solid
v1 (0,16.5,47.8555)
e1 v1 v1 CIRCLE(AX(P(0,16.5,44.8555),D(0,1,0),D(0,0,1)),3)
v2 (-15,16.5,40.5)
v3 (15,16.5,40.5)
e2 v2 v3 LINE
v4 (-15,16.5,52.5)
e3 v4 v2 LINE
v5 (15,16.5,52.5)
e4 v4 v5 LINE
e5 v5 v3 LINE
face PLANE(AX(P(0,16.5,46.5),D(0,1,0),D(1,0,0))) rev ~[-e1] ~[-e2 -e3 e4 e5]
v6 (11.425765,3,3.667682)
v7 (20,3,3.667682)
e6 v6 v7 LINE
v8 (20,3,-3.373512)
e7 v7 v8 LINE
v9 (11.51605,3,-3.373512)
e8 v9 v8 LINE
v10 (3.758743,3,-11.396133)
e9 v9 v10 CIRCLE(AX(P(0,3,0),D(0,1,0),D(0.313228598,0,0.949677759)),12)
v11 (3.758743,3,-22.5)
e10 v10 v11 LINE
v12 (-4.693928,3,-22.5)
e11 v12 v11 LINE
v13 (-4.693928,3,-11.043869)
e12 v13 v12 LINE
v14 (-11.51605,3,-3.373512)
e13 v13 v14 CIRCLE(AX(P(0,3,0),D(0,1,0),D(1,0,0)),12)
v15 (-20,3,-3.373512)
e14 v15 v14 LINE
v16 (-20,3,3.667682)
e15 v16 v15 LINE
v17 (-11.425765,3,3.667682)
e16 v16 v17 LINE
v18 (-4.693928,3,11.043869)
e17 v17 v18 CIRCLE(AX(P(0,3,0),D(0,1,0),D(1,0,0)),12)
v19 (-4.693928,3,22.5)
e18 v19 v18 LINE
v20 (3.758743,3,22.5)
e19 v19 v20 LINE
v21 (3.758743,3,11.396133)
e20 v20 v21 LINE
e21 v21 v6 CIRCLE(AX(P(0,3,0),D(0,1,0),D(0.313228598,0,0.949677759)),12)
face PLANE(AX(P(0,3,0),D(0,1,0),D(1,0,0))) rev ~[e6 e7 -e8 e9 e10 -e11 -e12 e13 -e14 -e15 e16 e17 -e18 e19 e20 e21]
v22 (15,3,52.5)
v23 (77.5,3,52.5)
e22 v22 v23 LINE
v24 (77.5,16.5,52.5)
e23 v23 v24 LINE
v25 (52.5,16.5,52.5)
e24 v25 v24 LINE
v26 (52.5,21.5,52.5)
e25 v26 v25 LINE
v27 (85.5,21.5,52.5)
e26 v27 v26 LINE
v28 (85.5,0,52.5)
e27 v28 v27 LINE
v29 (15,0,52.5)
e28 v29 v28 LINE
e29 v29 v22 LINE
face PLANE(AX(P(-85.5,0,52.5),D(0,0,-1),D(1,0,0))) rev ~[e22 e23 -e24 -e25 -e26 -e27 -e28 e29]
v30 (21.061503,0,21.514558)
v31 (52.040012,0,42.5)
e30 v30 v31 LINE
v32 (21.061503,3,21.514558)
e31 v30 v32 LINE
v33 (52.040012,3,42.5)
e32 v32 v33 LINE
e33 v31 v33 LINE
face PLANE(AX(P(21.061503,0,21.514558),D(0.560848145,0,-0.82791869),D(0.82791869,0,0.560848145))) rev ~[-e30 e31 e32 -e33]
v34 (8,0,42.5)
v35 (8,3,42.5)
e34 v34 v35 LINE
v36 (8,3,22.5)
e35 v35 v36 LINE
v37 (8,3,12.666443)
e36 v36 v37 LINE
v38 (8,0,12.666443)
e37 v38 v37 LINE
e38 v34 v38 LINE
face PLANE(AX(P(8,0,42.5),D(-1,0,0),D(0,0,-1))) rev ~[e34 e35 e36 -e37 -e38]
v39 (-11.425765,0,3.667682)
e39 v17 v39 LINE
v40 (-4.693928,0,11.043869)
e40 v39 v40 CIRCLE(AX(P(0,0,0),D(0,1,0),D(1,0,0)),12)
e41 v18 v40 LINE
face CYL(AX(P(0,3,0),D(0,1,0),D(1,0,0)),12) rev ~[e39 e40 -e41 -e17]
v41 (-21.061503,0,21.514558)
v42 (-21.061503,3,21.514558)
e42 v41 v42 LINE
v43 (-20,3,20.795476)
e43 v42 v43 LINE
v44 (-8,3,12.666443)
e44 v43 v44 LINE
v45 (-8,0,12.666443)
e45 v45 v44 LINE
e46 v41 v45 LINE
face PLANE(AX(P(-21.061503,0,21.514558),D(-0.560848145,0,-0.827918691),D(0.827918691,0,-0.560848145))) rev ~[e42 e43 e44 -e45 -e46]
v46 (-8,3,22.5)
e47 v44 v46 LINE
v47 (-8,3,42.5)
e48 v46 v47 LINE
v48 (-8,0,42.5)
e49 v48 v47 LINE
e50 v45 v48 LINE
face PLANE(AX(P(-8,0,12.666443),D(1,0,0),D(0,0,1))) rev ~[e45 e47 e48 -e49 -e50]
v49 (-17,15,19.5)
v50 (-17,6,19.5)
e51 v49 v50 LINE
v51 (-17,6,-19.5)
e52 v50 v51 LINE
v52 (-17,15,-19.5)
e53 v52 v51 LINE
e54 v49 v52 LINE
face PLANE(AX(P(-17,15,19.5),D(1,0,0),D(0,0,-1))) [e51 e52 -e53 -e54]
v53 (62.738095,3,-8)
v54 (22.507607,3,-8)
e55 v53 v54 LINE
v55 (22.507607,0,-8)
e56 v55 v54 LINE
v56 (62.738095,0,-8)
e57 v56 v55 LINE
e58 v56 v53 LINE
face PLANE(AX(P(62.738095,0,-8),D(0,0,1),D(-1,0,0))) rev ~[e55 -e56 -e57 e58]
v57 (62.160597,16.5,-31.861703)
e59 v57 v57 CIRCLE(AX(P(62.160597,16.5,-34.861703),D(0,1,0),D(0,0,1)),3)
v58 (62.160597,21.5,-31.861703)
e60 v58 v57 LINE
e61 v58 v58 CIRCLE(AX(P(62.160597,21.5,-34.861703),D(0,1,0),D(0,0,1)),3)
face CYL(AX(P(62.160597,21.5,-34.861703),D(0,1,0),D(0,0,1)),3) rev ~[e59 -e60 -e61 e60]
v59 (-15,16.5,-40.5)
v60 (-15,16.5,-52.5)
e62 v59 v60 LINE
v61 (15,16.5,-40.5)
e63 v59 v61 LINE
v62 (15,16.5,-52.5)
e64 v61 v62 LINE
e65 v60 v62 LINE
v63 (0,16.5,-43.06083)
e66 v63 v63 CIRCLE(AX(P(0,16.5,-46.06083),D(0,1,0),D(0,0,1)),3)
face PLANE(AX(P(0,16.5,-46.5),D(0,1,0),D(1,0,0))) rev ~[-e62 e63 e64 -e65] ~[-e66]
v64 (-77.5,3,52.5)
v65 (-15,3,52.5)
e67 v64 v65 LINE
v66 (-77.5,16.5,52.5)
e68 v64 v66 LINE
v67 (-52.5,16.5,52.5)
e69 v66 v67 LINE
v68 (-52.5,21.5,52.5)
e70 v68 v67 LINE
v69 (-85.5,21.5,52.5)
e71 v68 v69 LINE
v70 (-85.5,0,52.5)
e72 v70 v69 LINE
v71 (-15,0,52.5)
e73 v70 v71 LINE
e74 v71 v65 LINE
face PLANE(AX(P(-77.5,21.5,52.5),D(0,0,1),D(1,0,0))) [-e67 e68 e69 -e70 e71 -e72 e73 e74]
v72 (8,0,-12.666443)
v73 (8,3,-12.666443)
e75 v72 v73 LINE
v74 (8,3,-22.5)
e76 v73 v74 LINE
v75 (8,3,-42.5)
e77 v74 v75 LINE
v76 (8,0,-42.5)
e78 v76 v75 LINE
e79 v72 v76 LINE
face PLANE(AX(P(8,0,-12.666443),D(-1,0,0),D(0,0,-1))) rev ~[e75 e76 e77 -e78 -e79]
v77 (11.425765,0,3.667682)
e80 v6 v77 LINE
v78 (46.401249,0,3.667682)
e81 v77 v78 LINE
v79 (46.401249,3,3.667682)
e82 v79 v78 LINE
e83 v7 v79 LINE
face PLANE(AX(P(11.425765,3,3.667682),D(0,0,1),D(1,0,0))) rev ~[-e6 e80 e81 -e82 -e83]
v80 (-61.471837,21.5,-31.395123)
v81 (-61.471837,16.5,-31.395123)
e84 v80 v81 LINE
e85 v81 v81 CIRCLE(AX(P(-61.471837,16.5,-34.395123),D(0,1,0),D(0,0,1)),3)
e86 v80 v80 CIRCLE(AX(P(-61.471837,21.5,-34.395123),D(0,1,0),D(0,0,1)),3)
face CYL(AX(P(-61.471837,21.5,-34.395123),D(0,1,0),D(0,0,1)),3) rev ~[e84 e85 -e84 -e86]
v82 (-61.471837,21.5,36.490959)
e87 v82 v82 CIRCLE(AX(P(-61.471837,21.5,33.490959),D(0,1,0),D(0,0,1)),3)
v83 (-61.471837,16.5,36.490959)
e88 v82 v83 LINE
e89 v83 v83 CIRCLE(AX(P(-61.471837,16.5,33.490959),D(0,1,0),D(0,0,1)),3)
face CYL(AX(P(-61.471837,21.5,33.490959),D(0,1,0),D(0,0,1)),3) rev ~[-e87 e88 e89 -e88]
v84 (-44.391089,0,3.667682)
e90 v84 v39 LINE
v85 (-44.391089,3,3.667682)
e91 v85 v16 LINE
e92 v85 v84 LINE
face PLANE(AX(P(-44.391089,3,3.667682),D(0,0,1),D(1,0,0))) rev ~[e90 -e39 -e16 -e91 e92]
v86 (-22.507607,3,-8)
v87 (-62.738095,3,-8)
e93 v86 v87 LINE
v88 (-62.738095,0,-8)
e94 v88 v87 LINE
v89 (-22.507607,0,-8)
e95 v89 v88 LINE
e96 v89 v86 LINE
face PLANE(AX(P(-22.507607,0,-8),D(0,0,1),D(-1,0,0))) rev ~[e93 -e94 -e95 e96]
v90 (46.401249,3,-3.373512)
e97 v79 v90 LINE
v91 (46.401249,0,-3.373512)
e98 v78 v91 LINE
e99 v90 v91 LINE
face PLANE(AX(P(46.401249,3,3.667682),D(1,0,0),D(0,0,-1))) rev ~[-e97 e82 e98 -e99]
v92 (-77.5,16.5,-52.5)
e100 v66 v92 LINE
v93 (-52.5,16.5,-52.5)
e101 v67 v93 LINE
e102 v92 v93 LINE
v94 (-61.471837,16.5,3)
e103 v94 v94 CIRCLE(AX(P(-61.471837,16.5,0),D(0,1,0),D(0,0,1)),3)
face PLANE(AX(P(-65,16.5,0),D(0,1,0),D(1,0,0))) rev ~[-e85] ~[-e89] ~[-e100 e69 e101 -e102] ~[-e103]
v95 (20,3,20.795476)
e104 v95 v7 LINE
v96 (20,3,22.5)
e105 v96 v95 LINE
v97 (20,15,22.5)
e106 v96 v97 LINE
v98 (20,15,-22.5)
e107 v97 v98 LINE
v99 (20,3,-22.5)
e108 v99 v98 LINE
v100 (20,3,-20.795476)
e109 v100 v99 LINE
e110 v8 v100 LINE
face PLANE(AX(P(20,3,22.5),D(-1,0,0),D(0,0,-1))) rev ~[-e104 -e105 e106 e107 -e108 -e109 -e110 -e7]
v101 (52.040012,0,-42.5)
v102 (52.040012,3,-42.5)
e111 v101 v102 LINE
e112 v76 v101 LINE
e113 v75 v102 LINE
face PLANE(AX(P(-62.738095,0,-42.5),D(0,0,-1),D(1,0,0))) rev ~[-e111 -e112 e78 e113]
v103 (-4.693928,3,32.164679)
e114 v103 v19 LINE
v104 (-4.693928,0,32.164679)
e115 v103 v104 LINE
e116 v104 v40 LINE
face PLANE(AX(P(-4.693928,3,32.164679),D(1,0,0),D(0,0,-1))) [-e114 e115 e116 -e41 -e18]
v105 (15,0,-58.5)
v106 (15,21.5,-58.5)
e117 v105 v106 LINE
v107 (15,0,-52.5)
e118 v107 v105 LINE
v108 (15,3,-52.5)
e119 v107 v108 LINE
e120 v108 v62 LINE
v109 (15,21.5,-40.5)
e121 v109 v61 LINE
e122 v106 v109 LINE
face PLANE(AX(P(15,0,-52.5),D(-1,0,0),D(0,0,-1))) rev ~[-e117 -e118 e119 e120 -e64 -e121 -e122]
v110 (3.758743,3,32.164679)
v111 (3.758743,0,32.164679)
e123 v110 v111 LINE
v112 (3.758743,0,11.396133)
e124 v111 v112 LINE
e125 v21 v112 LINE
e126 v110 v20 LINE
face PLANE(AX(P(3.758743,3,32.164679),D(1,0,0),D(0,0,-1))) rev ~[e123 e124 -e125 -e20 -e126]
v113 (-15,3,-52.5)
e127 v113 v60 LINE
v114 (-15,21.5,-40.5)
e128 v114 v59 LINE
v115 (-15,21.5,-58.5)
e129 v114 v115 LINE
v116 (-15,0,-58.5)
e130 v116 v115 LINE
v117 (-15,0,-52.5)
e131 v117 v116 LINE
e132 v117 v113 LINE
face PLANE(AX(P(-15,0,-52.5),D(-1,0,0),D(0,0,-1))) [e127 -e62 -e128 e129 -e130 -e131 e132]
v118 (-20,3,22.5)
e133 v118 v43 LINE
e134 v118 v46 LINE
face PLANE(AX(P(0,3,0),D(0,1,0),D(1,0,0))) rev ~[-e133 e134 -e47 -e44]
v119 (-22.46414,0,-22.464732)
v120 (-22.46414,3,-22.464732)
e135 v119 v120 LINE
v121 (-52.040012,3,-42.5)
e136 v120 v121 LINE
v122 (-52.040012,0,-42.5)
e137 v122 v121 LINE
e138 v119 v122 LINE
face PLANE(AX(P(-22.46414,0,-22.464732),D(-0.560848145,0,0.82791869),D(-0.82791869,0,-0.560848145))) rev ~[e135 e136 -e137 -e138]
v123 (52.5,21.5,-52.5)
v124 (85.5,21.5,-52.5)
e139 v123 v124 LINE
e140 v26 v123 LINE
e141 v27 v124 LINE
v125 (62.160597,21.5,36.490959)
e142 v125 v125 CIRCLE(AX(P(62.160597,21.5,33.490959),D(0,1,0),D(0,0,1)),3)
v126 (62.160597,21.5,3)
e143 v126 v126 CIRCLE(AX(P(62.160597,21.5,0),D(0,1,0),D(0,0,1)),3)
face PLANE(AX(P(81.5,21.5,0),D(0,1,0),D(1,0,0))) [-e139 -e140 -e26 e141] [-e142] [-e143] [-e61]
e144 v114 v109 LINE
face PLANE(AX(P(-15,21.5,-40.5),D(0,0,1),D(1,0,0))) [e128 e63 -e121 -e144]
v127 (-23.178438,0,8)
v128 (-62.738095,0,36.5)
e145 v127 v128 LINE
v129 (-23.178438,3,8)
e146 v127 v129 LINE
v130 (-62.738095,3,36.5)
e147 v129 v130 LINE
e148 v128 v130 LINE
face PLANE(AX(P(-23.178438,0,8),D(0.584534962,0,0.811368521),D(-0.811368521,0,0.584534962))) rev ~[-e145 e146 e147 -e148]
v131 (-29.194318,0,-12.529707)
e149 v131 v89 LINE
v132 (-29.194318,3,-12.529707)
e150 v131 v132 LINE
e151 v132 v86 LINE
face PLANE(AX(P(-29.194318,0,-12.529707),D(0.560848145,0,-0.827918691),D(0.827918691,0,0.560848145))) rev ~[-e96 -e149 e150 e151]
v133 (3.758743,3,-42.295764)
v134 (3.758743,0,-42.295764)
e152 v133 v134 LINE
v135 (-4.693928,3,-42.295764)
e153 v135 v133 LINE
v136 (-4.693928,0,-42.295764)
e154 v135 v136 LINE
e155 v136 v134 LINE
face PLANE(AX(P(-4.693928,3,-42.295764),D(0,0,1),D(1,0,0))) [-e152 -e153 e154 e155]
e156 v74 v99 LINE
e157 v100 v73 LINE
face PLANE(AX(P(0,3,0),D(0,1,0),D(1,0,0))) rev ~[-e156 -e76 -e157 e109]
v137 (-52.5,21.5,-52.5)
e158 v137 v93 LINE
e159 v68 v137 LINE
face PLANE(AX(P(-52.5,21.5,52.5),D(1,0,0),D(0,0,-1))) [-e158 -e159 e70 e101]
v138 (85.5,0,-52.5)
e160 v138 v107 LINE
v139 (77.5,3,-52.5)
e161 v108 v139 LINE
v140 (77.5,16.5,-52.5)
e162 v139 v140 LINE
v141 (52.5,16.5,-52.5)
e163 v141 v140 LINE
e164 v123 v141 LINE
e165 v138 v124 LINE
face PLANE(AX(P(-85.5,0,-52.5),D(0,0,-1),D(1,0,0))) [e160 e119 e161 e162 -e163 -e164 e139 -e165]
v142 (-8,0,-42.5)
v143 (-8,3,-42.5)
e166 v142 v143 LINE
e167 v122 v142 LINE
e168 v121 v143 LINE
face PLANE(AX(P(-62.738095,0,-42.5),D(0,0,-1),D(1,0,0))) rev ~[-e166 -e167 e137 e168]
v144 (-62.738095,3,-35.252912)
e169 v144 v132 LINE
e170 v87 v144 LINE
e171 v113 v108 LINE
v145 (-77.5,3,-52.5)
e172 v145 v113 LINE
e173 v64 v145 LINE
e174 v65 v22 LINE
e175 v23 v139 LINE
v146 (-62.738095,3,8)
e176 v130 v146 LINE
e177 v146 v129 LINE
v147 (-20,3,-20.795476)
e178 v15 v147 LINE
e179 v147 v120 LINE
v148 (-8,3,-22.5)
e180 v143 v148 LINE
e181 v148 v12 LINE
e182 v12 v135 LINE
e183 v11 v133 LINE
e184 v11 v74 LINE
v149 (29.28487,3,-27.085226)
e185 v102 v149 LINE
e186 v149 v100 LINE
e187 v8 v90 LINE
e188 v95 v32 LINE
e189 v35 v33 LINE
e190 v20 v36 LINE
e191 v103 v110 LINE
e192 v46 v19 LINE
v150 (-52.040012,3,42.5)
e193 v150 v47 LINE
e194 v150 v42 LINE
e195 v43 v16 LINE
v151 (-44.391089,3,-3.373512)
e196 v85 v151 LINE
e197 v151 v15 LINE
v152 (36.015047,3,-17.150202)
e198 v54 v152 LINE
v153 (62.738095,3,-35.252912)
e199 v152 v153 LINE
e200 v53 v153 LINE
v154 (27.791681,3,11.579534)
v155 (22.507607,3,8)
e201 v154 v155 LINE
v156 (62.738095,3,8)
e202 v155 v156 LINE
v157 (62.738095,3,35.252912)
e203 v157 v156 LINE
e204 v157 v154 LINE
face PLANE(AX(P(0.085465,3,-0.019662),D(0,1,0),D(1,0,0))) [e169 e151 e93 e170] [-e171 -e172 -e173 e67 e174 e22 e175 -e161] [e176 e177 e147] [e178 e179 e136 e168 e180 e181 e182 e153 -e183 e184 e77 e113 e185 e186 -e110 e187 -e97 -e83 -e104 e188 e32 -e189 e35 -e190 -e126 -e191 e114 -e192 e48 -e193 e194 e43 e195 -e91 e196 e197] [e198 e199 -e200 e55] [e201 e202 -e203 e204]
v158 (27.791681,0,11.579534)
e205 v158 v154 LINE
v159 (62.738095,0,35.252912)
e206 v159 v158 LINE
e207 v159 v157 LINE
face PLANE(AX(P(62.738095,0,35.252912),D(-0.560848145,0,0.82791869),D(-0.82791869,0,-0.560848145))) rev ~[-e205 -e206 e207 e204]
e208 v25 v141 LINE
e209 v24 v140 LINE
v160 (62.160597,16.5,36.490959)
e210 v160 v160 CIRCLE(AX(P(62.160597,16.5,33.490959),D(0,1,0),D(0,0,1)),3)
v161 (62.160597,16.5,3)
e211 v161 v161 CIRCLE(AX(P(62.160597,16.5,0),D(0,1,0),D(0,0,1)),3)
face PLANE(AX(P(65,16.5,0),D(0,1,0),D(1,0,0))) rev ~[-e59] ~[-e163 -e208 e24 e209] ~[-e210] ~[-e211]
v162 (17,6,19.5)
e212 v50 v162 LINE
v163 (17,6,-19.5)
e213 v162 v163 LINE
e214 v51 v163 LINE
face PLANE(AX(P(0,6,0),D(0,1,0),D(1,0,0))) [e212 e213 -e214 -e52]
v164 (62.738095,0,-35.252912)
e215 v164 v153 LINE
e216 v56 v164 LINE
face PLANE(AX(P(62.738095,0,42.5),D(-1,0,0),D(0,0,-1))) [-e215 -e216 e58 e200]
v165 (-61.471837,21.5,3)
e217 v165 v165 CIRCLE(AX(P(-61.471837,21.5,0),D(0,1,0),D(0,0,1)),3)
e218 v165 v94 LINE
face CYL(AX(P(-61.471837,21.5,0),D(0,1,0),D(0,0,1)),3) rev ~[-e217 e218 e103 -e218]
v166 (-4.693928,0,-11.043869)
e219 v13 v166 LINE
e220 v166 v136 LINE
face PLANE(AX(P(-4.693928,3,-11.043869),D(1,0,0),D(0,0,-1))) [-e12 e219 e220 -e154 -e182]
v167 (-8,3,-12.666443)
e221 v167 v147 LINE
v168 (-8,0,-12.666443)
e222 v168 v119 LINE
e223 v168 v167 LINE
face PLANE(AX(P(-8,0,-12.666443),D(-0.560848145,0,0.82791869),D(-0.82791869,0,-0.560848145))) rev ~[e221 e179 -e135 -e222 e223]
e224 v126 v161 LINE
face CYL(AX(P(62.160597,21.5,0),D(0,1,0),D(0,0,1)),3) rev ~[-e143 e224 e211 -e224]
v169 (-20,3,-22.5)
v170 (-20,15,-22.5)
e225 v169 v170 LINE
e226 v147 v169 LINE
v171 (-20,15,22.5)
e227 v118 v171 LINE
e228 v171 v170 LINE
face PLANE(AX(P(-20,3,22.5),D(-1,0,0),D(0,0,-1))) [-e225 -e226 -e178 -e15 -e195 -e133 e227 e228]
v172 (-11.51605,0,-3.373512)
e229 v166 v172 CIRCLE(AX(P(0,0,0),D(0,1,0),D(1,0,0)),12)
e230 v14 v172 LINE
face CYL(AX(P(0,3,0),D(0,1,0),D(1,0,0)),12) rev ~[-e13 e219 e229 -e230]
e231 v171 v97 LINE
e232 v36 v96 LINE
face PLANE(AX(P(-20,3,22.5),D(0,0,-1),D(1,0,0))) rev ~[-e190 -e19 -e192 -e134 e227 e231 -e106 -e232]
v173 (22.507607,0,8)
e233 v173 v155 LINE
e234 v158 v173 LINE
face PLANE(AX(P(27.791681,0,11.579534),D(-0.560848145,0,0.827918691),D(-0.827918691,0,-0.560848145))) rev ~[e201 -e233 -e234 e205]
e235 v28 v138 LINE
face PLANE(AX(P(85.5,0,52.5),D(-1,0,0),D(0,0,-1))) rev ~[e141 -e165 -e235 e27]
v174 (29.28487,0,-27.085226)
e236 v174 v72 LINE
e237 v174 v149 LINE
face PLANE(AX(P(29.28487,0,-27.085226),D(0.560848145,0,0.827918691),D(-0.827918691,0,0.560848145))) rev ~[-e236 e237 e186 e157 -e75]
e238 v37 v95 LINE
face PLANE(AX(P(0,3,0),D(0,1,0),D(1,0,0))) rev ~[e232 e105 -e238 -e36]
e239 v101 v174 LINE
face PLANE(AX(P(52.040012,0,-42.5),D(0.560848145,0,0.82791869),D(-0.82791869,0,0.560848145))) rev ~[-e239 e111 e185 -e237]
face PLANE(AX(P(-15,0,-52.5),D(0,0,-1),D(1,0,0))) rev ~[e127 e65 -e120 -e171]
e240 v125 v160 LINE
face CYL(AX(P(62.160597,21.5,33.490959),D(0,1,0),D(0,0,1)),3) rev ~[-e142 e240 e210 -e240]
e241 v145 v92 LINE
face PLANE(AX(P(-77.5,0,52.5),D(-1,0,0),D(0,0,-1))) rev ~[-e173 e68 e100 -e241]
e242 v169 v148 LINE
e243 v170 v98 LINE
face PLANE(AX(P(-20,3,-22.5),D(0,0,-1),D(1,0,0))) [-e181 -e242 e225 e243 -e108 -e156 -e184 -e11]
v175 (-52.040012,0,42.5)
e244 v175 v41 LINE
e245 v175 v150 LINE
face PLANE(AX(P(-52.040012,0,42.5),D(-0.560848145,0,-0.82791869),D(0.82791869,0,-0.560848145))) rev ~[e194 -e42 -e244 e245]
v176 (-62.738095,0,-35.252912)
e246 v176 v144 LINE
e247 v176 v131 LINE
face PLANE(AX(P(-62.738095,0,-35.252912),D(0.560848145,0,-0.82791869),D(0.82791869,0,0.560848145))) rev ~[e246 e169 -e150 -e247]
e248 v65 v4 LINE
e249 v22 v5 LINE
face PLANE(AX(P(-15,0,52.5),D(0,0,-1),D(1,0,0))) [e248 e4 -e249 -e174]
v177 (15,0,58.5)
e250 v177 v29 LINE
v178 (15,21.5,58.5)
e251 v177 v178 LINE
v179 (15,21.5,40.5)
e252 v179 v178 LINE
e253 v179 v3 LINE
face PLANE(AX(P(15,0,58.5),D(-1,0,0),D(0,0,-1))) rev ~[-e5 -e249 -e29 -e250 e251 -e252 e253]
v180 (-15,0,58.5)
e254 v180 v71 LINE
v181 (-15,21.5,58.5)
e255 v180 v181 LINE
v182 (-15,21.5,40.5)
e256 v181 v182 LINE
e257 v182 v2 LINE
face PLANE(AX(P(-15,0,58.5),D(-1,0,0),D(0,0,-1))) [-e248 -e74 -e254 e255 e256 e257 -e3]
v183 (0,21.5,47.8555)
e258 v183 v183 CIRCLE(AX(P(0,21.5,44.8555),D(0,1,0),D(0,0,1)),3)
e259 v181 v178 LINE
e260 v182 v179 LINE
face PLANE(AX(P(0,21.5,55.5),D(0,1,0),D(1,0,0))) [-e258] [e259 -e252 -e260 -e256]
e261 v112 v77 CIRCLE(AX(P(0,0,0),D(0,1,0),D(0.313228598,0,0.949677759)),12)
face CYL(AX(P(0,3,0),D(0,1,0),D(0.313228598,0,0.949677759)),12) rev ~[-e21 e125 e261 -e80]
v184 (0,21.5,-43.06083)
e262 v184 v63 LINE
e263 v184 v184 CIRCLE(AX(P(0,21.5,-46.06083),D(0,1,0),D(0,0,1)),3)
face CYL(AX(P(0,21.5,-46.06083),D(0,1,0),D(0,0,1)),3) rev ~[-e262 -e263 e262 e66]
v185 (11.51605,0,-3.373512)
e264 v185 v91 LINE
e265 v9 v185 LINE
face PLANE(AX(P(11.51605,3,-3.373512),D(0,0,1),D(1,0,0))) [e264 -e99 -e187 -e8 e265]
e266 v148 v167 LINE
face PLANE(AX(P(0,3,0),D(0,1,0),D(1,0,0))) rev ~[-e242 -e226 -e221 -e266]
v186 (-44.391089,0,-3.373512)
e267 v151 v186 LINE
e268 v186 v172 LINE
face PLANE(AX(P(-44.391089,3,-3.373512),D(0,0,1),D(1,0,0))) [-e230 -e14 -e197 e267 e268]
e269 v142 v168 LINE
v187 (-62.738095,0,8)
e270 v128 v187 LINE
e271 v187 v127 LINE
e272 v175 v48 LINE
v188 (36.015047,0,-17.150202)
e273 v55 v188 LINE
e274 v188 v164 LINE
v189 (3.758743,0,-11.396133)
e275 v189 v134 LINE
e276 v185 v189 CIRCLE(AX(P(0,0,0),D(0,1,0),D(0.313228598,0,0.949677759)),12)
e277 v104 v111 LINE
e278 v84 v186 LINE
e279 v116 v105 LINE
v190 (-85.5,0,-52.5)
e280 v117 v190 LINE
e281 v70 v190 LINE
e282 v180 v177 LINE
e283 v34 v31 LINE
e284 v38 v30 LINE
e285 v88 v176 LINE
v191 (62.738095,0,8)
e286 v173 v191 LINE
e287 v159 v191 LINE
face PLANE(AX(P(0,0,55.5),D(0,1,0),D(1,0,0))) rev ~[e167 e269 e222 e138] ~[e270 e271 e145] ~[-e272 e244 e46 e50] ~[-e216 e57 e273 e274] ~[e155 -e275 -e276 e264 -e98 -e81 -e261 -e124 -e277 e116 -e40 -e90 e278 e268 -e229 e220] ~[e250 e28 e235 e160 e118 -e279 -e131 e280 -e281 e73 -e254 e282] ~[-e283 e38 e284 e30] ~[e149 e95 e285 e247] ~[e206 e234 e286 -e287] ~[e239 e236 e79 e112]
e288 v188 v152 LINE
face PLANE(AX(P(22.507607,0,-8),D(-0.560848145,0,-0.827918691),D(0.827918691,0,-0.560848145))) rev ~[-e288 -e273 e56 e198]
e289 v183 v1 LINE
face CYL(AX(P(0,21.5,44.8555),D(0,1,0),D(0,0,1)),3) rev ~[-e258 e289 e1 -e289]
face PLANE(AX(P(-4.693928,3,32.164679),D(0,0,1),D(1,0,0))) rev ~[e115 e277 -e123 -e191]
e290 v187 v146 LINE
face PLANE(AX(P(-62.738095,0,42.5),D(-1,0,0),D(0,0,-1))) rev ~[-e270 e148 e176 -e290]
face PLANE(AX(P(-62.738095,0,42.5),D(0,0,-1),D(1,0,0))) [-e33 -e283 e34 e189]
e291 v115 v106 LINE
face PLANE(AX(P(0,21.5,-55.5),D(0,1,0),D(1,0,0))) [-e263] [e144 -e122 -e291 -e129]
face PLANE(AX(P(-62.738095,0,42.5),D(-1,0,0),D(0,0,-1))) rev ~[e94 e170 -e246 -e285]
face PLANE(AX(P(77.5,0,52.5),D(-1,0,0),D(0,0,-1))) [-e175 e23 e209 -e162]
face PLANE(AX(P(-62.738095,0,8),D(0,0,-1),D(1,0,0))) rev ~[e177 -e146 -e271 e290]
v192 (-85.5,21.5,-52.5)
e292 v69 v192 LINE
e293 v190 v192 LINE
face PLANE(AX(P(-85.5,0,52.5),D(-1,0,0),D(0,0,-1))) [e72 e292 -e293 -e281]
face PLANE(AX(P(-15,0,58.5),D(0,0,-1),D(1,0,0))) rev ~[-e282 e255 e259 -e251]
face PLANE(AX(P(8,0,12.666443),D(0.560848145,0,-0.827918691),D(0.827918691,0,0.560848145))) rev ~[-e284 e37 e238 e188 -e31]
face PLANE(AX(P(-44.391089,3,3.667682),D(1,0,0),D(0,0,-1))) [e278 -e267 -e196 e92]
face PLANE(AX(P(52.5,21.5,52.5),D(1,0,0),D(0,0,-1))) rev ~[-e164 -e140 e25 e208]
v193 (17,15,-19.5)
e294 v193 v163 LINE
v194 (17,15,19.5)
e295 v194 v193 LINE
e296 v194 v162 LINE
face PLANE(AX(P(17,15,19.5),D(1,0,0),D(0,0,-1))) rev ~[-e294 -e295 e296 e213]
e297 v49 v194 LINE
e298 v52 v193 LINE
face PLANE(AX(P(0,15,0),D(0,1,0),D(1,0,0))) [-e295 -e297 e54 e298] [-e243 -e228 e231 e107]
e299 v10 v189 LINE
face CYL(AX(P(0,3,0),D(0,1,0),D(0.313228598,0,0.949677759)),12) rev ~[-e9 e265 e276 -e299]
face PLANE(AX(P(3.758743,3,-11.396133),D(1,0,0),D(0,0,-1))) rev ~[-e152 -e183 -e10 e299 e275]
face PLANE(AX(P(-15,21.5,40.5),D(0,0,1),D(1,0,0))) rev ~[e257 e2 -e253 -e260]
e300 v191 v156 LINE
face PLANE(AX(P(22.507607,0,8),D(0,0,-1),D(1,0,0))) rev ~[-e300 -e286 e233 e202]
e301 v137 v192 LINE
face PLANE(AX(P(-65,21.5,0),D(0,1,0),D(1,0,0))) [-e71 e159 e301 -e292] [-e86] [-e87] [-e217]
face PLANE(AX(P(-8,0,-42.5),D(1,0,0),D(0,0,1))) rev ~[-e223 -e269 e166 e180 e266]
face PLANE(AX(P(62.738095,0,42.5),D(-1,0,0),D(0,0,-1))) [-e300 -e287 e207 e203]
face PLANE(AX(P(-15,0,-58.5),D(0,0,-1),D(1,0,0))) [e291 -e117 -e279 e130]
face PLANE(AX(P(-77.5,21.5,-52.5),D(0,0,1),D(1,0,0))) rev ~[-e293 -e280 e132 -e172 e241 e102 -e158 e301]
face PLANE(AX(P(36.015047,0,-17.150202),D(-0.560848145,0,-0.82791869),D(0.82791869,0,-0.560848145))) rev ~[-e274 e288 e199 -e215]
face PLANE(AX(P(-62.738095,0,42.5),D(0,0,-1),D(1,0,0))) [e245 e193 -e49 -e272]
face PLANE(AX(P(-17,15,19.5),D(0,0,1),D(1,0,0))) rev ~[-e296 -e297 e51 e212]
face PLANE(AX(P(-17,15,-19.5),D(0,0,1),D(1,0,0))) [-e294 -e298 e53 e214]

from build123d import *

# Parameters (mm, degrees)
SKETCH1_W                = 155
SKETCH1_H                = 105
SKETCH1_W_2              = 125.476190476
SKETCH1_H_2              = 85
BOSS_EXTRUDE1_DEPTH      = 3
BOSS_EXTRUDE2_DEPTH      = 18.5
BOSS_EXTRUDE2_DEPTH_BACK = 3
SKETCH2_W                = 8
SKETCH2_H                = 105
BOSS_EXTRUDE3_DEPTH      = 18.5
BOSS_EXTRUDE3_DEPTH_BACK = 3
SKETCH3_W                = 30
SKETCH3_H                = 6
SKETCH4_W                = 25
SKETCH4_H                = 105
SKETCH4_W_2              = 30
SKETCH4_H_2              = 12
BOSS_EXTRUDE4_DEPTH      = 5
SKETCH5_R                = 12
SKETCH5_W                = 8.45267088
SKETCH5_H                = 74.460442491
SKETCH5_W_2              = 90.792338418
SKETCH5_H_2              = 7.04119429
CUT_EXTRUDE1_DEPTH       = 5
SKETCH7_R                = 3
CUT_EXTRUDE3_DEPTH       = 5
SKETCH8_W                = 40
SKETCH8_H                = 45
BOSS_EXTRUDE7_DEPTH      = 12
SKETCH10_W               = 34
SKETCH10_H               = 39
CUT_EXTRUDE4_DEPTH       = 9


with BuildPart() as part:
    # Sketch1 → Boss-Extrude1 (new body)
    # profile 1 of 2: a face of its own
    with BuildSketch(Plane(origin=(0, 0, 0), x_dir=(1, 0, 0), z_dir=(0, 1, 0))):
        Rectangle(SKETCH1_W, SKETCH1_H)
        Rectangle(SKETCH1_W_2, SKETCH1_H_2, mode=Mode.SUBTRACT)
    # profile 2 of 2: a face of its own
    with BuildSketch(Plane(origin=(0, 0, 0), x_dir=(1, 0, 0), z_dir=(0, 1, 0))):
        Polygon((62.738095238, 8), (22.507606796, 8), (36.015047402, 17.1502017), (62.738095238, 35.252911525), (62.738095238, 42.5), (52.040012251, 42.5), (29.28486966, 27.085225986), (8, 12.666443314), (8, 42.5), (-8, 42.5), (-8, 12.666443314), (-22.464140061, 22.464731742), (-52.040012251, 42.5), (-62.738095238, 42.5), (-62.738095238, 35.252911525), (-29.194317803, 12.529707456), (-22.507606796, 8), (-62.738095238, 8), (-62.738095238, -8), (-23.178437825, -8), (-62.738095238, -36.5), (-62.738095238, -42.5), (-52.040012251, -42.5), (-21.061503369, -21.514558499), (-8, -12.666443314), (-8, -42.5), (8, -42.5), (8, -12.666443314), (21.061503369, -21.514558499), (52.040012251, -42.5), (62.738095238, -42.5), (62.738095238, -35.252911525), (27.791681111, -11.579534213), (22.507606796, -8), (62.738095238, -8), align=None)
    extrude(amount=BOSS_EXTRUDE1_DEPTH)

    # Sketch2 → Boss-Extrude2 (add, two sides: drawn at the far end of the back side and taken through both)
    with BuildSketch(Plane(origin=(0, 3, 0), x_dir=(1, 0, 0), z_dir=(0, 1, 0)).offset(-BOSS_EXTRUDE2_DEPTH_BACK)):
        with Locations((-81.5, 0)):
            Rectangle(SKETCH2_W, SKETCH2_H)
        with Locations((81.5, 0)):
            Rectangle(SKETCH2_W, SKETCH2_H)
    extrude(amount=BOSS_EXTRUDE2_DEPTH + BOSS_EXTRUDE2_DEPTH_BACK)

    # Sketch3 → Boss-Extrude3 (add, two sides: drawn at the far end of the back side and taken through both)
    with BuildSketch(Plane(origin=(0, 3, 0), x_dir=(1, 0, 0), z_dir=(0, 1, 0)).offset(-BOSS_EXTRUDE3_DEPTH_BACK)):
        with Locations((0, -55.5)):
            Rectangle(SKETCH3_W, SKETCH3_H)
        with Locations((0, 55.5)):
            Rectangle(SKETCH3_W, SKETCH3_H)
    extrude(amount=BOSS_EXTRUDE3_DEPTH + BOSS_EXTRUDE3_DEPTH_BACK)

    # Sketch4 → Boss-Extrude4 (add)
    with BuildSketch(Plane(origin=(0, 21.5, 0), x_dir=(1, 0, 0), z_dir=(0, 1, 0))):
        with Locations((-65, 0)):
            Rectangle(SKETCH4_W, SKETCH4_H)
        with Locations((65, 0)):
            Rectangle(SKETCH4_W, SKETCH4_H)
        with Locations((0, 46.5)):
            Rectangle(SKETCH4_W_2, SKETCH4_H_2)
        with Locations((0, -46.5)):
            Rectangle(SKETCH4_W_2, SKETCH4_H_2)
    extrude(amount=-BOSS_EXTRUDE4_DEPTH)

    # Sketch5 → Cut-Extrude1 (cut)
    with BuildSketch(Plane(origin=(0, 3, 0), x_dir=(1, 0, 0), z_dir=(0, 1, 0))):
        Circle(SKETCH5_R)
        with Locations((-0.467592264, 5.065542336)):
            Rectangle(SKETCH5_W, SKETCH5_H)
        with Locations((1.005079981, -0.147085174)):
            Rectangle(SKETCH5_W_2, SKETCH5_H_2)
    extrude(amount=-CUT_EXTRUDE1_DEPTH, mode=Mode.SUBTRACT)

    # Sketch7 → Cut-Extrude3 (cut)
    with BuildSketch(Plane(origin=(0, 21.5, 0), x_dir=(1, 0, 0), z_dir=(0, 1, 0))):
        with Locations(Location((-61.471836621, 0, 0), (0, 0, 270))):
            Circle(SKETCH7_R)
        with Locations(Location((62.160596695, 0, 0), (0, 0, 270))):
            Circle(SKETCH7_R)
        with Locations(Location((-61.471836621, 34.395123429, 0), (0, 0, 270))):
            Circle(SKETCH7_R)
        with Locations(Location((-61.471836621, -33.490958607, 0), (0, 0, 270))):
            Circle(SKETCH7_R)
        with Locations(Location((62.160596695, 34.861702835, 0), (0, 0, 270))):
            Circle(SKETCH7_R)
        with Locations(Location((62.160596695, -33.490958607, 0), (0, 0, 270))):
            Circle(SKETCH7_R)
        with Locations(Location((0, -44.855499831, 0), (0, 0, 270))):
            Circle(SKETCH7_R)
        with Locations(Location((0, 46.060829961, 0), (0, 0, 270))):
            Circle(SKETCH7_R)
    extrude(amount=-CUT_EXTRUDE3_DEPTH, mode=Mode.SUBTRACT)

    # Sketch8 → Boss-Extrude7 (add)
    with BuildSketch(Plane(origin=(0, 3, 0), x_dir=(1, 0, 0), z_dir=(0, 1, 0))):
        Rectangle(SKETCH8_W, SKETCH8_H)
    extrude(amount=BOSS_EXTRUDE7_DEPTH)

    # Sketch10 → Cut-Extrude4 (cut)
    with BuildSketch(Plane(origin=(0, 15, 0), x_dir=(1, 0, 0), z_dir=(0, 1, 0))):
        Rectangle(SKETCH10_W, SKETCH10_H)
    extrude(amount=-CUT_EXTRUDE4_DEPTH, mode=Mode.SUBTRACT)


solid = part.part
